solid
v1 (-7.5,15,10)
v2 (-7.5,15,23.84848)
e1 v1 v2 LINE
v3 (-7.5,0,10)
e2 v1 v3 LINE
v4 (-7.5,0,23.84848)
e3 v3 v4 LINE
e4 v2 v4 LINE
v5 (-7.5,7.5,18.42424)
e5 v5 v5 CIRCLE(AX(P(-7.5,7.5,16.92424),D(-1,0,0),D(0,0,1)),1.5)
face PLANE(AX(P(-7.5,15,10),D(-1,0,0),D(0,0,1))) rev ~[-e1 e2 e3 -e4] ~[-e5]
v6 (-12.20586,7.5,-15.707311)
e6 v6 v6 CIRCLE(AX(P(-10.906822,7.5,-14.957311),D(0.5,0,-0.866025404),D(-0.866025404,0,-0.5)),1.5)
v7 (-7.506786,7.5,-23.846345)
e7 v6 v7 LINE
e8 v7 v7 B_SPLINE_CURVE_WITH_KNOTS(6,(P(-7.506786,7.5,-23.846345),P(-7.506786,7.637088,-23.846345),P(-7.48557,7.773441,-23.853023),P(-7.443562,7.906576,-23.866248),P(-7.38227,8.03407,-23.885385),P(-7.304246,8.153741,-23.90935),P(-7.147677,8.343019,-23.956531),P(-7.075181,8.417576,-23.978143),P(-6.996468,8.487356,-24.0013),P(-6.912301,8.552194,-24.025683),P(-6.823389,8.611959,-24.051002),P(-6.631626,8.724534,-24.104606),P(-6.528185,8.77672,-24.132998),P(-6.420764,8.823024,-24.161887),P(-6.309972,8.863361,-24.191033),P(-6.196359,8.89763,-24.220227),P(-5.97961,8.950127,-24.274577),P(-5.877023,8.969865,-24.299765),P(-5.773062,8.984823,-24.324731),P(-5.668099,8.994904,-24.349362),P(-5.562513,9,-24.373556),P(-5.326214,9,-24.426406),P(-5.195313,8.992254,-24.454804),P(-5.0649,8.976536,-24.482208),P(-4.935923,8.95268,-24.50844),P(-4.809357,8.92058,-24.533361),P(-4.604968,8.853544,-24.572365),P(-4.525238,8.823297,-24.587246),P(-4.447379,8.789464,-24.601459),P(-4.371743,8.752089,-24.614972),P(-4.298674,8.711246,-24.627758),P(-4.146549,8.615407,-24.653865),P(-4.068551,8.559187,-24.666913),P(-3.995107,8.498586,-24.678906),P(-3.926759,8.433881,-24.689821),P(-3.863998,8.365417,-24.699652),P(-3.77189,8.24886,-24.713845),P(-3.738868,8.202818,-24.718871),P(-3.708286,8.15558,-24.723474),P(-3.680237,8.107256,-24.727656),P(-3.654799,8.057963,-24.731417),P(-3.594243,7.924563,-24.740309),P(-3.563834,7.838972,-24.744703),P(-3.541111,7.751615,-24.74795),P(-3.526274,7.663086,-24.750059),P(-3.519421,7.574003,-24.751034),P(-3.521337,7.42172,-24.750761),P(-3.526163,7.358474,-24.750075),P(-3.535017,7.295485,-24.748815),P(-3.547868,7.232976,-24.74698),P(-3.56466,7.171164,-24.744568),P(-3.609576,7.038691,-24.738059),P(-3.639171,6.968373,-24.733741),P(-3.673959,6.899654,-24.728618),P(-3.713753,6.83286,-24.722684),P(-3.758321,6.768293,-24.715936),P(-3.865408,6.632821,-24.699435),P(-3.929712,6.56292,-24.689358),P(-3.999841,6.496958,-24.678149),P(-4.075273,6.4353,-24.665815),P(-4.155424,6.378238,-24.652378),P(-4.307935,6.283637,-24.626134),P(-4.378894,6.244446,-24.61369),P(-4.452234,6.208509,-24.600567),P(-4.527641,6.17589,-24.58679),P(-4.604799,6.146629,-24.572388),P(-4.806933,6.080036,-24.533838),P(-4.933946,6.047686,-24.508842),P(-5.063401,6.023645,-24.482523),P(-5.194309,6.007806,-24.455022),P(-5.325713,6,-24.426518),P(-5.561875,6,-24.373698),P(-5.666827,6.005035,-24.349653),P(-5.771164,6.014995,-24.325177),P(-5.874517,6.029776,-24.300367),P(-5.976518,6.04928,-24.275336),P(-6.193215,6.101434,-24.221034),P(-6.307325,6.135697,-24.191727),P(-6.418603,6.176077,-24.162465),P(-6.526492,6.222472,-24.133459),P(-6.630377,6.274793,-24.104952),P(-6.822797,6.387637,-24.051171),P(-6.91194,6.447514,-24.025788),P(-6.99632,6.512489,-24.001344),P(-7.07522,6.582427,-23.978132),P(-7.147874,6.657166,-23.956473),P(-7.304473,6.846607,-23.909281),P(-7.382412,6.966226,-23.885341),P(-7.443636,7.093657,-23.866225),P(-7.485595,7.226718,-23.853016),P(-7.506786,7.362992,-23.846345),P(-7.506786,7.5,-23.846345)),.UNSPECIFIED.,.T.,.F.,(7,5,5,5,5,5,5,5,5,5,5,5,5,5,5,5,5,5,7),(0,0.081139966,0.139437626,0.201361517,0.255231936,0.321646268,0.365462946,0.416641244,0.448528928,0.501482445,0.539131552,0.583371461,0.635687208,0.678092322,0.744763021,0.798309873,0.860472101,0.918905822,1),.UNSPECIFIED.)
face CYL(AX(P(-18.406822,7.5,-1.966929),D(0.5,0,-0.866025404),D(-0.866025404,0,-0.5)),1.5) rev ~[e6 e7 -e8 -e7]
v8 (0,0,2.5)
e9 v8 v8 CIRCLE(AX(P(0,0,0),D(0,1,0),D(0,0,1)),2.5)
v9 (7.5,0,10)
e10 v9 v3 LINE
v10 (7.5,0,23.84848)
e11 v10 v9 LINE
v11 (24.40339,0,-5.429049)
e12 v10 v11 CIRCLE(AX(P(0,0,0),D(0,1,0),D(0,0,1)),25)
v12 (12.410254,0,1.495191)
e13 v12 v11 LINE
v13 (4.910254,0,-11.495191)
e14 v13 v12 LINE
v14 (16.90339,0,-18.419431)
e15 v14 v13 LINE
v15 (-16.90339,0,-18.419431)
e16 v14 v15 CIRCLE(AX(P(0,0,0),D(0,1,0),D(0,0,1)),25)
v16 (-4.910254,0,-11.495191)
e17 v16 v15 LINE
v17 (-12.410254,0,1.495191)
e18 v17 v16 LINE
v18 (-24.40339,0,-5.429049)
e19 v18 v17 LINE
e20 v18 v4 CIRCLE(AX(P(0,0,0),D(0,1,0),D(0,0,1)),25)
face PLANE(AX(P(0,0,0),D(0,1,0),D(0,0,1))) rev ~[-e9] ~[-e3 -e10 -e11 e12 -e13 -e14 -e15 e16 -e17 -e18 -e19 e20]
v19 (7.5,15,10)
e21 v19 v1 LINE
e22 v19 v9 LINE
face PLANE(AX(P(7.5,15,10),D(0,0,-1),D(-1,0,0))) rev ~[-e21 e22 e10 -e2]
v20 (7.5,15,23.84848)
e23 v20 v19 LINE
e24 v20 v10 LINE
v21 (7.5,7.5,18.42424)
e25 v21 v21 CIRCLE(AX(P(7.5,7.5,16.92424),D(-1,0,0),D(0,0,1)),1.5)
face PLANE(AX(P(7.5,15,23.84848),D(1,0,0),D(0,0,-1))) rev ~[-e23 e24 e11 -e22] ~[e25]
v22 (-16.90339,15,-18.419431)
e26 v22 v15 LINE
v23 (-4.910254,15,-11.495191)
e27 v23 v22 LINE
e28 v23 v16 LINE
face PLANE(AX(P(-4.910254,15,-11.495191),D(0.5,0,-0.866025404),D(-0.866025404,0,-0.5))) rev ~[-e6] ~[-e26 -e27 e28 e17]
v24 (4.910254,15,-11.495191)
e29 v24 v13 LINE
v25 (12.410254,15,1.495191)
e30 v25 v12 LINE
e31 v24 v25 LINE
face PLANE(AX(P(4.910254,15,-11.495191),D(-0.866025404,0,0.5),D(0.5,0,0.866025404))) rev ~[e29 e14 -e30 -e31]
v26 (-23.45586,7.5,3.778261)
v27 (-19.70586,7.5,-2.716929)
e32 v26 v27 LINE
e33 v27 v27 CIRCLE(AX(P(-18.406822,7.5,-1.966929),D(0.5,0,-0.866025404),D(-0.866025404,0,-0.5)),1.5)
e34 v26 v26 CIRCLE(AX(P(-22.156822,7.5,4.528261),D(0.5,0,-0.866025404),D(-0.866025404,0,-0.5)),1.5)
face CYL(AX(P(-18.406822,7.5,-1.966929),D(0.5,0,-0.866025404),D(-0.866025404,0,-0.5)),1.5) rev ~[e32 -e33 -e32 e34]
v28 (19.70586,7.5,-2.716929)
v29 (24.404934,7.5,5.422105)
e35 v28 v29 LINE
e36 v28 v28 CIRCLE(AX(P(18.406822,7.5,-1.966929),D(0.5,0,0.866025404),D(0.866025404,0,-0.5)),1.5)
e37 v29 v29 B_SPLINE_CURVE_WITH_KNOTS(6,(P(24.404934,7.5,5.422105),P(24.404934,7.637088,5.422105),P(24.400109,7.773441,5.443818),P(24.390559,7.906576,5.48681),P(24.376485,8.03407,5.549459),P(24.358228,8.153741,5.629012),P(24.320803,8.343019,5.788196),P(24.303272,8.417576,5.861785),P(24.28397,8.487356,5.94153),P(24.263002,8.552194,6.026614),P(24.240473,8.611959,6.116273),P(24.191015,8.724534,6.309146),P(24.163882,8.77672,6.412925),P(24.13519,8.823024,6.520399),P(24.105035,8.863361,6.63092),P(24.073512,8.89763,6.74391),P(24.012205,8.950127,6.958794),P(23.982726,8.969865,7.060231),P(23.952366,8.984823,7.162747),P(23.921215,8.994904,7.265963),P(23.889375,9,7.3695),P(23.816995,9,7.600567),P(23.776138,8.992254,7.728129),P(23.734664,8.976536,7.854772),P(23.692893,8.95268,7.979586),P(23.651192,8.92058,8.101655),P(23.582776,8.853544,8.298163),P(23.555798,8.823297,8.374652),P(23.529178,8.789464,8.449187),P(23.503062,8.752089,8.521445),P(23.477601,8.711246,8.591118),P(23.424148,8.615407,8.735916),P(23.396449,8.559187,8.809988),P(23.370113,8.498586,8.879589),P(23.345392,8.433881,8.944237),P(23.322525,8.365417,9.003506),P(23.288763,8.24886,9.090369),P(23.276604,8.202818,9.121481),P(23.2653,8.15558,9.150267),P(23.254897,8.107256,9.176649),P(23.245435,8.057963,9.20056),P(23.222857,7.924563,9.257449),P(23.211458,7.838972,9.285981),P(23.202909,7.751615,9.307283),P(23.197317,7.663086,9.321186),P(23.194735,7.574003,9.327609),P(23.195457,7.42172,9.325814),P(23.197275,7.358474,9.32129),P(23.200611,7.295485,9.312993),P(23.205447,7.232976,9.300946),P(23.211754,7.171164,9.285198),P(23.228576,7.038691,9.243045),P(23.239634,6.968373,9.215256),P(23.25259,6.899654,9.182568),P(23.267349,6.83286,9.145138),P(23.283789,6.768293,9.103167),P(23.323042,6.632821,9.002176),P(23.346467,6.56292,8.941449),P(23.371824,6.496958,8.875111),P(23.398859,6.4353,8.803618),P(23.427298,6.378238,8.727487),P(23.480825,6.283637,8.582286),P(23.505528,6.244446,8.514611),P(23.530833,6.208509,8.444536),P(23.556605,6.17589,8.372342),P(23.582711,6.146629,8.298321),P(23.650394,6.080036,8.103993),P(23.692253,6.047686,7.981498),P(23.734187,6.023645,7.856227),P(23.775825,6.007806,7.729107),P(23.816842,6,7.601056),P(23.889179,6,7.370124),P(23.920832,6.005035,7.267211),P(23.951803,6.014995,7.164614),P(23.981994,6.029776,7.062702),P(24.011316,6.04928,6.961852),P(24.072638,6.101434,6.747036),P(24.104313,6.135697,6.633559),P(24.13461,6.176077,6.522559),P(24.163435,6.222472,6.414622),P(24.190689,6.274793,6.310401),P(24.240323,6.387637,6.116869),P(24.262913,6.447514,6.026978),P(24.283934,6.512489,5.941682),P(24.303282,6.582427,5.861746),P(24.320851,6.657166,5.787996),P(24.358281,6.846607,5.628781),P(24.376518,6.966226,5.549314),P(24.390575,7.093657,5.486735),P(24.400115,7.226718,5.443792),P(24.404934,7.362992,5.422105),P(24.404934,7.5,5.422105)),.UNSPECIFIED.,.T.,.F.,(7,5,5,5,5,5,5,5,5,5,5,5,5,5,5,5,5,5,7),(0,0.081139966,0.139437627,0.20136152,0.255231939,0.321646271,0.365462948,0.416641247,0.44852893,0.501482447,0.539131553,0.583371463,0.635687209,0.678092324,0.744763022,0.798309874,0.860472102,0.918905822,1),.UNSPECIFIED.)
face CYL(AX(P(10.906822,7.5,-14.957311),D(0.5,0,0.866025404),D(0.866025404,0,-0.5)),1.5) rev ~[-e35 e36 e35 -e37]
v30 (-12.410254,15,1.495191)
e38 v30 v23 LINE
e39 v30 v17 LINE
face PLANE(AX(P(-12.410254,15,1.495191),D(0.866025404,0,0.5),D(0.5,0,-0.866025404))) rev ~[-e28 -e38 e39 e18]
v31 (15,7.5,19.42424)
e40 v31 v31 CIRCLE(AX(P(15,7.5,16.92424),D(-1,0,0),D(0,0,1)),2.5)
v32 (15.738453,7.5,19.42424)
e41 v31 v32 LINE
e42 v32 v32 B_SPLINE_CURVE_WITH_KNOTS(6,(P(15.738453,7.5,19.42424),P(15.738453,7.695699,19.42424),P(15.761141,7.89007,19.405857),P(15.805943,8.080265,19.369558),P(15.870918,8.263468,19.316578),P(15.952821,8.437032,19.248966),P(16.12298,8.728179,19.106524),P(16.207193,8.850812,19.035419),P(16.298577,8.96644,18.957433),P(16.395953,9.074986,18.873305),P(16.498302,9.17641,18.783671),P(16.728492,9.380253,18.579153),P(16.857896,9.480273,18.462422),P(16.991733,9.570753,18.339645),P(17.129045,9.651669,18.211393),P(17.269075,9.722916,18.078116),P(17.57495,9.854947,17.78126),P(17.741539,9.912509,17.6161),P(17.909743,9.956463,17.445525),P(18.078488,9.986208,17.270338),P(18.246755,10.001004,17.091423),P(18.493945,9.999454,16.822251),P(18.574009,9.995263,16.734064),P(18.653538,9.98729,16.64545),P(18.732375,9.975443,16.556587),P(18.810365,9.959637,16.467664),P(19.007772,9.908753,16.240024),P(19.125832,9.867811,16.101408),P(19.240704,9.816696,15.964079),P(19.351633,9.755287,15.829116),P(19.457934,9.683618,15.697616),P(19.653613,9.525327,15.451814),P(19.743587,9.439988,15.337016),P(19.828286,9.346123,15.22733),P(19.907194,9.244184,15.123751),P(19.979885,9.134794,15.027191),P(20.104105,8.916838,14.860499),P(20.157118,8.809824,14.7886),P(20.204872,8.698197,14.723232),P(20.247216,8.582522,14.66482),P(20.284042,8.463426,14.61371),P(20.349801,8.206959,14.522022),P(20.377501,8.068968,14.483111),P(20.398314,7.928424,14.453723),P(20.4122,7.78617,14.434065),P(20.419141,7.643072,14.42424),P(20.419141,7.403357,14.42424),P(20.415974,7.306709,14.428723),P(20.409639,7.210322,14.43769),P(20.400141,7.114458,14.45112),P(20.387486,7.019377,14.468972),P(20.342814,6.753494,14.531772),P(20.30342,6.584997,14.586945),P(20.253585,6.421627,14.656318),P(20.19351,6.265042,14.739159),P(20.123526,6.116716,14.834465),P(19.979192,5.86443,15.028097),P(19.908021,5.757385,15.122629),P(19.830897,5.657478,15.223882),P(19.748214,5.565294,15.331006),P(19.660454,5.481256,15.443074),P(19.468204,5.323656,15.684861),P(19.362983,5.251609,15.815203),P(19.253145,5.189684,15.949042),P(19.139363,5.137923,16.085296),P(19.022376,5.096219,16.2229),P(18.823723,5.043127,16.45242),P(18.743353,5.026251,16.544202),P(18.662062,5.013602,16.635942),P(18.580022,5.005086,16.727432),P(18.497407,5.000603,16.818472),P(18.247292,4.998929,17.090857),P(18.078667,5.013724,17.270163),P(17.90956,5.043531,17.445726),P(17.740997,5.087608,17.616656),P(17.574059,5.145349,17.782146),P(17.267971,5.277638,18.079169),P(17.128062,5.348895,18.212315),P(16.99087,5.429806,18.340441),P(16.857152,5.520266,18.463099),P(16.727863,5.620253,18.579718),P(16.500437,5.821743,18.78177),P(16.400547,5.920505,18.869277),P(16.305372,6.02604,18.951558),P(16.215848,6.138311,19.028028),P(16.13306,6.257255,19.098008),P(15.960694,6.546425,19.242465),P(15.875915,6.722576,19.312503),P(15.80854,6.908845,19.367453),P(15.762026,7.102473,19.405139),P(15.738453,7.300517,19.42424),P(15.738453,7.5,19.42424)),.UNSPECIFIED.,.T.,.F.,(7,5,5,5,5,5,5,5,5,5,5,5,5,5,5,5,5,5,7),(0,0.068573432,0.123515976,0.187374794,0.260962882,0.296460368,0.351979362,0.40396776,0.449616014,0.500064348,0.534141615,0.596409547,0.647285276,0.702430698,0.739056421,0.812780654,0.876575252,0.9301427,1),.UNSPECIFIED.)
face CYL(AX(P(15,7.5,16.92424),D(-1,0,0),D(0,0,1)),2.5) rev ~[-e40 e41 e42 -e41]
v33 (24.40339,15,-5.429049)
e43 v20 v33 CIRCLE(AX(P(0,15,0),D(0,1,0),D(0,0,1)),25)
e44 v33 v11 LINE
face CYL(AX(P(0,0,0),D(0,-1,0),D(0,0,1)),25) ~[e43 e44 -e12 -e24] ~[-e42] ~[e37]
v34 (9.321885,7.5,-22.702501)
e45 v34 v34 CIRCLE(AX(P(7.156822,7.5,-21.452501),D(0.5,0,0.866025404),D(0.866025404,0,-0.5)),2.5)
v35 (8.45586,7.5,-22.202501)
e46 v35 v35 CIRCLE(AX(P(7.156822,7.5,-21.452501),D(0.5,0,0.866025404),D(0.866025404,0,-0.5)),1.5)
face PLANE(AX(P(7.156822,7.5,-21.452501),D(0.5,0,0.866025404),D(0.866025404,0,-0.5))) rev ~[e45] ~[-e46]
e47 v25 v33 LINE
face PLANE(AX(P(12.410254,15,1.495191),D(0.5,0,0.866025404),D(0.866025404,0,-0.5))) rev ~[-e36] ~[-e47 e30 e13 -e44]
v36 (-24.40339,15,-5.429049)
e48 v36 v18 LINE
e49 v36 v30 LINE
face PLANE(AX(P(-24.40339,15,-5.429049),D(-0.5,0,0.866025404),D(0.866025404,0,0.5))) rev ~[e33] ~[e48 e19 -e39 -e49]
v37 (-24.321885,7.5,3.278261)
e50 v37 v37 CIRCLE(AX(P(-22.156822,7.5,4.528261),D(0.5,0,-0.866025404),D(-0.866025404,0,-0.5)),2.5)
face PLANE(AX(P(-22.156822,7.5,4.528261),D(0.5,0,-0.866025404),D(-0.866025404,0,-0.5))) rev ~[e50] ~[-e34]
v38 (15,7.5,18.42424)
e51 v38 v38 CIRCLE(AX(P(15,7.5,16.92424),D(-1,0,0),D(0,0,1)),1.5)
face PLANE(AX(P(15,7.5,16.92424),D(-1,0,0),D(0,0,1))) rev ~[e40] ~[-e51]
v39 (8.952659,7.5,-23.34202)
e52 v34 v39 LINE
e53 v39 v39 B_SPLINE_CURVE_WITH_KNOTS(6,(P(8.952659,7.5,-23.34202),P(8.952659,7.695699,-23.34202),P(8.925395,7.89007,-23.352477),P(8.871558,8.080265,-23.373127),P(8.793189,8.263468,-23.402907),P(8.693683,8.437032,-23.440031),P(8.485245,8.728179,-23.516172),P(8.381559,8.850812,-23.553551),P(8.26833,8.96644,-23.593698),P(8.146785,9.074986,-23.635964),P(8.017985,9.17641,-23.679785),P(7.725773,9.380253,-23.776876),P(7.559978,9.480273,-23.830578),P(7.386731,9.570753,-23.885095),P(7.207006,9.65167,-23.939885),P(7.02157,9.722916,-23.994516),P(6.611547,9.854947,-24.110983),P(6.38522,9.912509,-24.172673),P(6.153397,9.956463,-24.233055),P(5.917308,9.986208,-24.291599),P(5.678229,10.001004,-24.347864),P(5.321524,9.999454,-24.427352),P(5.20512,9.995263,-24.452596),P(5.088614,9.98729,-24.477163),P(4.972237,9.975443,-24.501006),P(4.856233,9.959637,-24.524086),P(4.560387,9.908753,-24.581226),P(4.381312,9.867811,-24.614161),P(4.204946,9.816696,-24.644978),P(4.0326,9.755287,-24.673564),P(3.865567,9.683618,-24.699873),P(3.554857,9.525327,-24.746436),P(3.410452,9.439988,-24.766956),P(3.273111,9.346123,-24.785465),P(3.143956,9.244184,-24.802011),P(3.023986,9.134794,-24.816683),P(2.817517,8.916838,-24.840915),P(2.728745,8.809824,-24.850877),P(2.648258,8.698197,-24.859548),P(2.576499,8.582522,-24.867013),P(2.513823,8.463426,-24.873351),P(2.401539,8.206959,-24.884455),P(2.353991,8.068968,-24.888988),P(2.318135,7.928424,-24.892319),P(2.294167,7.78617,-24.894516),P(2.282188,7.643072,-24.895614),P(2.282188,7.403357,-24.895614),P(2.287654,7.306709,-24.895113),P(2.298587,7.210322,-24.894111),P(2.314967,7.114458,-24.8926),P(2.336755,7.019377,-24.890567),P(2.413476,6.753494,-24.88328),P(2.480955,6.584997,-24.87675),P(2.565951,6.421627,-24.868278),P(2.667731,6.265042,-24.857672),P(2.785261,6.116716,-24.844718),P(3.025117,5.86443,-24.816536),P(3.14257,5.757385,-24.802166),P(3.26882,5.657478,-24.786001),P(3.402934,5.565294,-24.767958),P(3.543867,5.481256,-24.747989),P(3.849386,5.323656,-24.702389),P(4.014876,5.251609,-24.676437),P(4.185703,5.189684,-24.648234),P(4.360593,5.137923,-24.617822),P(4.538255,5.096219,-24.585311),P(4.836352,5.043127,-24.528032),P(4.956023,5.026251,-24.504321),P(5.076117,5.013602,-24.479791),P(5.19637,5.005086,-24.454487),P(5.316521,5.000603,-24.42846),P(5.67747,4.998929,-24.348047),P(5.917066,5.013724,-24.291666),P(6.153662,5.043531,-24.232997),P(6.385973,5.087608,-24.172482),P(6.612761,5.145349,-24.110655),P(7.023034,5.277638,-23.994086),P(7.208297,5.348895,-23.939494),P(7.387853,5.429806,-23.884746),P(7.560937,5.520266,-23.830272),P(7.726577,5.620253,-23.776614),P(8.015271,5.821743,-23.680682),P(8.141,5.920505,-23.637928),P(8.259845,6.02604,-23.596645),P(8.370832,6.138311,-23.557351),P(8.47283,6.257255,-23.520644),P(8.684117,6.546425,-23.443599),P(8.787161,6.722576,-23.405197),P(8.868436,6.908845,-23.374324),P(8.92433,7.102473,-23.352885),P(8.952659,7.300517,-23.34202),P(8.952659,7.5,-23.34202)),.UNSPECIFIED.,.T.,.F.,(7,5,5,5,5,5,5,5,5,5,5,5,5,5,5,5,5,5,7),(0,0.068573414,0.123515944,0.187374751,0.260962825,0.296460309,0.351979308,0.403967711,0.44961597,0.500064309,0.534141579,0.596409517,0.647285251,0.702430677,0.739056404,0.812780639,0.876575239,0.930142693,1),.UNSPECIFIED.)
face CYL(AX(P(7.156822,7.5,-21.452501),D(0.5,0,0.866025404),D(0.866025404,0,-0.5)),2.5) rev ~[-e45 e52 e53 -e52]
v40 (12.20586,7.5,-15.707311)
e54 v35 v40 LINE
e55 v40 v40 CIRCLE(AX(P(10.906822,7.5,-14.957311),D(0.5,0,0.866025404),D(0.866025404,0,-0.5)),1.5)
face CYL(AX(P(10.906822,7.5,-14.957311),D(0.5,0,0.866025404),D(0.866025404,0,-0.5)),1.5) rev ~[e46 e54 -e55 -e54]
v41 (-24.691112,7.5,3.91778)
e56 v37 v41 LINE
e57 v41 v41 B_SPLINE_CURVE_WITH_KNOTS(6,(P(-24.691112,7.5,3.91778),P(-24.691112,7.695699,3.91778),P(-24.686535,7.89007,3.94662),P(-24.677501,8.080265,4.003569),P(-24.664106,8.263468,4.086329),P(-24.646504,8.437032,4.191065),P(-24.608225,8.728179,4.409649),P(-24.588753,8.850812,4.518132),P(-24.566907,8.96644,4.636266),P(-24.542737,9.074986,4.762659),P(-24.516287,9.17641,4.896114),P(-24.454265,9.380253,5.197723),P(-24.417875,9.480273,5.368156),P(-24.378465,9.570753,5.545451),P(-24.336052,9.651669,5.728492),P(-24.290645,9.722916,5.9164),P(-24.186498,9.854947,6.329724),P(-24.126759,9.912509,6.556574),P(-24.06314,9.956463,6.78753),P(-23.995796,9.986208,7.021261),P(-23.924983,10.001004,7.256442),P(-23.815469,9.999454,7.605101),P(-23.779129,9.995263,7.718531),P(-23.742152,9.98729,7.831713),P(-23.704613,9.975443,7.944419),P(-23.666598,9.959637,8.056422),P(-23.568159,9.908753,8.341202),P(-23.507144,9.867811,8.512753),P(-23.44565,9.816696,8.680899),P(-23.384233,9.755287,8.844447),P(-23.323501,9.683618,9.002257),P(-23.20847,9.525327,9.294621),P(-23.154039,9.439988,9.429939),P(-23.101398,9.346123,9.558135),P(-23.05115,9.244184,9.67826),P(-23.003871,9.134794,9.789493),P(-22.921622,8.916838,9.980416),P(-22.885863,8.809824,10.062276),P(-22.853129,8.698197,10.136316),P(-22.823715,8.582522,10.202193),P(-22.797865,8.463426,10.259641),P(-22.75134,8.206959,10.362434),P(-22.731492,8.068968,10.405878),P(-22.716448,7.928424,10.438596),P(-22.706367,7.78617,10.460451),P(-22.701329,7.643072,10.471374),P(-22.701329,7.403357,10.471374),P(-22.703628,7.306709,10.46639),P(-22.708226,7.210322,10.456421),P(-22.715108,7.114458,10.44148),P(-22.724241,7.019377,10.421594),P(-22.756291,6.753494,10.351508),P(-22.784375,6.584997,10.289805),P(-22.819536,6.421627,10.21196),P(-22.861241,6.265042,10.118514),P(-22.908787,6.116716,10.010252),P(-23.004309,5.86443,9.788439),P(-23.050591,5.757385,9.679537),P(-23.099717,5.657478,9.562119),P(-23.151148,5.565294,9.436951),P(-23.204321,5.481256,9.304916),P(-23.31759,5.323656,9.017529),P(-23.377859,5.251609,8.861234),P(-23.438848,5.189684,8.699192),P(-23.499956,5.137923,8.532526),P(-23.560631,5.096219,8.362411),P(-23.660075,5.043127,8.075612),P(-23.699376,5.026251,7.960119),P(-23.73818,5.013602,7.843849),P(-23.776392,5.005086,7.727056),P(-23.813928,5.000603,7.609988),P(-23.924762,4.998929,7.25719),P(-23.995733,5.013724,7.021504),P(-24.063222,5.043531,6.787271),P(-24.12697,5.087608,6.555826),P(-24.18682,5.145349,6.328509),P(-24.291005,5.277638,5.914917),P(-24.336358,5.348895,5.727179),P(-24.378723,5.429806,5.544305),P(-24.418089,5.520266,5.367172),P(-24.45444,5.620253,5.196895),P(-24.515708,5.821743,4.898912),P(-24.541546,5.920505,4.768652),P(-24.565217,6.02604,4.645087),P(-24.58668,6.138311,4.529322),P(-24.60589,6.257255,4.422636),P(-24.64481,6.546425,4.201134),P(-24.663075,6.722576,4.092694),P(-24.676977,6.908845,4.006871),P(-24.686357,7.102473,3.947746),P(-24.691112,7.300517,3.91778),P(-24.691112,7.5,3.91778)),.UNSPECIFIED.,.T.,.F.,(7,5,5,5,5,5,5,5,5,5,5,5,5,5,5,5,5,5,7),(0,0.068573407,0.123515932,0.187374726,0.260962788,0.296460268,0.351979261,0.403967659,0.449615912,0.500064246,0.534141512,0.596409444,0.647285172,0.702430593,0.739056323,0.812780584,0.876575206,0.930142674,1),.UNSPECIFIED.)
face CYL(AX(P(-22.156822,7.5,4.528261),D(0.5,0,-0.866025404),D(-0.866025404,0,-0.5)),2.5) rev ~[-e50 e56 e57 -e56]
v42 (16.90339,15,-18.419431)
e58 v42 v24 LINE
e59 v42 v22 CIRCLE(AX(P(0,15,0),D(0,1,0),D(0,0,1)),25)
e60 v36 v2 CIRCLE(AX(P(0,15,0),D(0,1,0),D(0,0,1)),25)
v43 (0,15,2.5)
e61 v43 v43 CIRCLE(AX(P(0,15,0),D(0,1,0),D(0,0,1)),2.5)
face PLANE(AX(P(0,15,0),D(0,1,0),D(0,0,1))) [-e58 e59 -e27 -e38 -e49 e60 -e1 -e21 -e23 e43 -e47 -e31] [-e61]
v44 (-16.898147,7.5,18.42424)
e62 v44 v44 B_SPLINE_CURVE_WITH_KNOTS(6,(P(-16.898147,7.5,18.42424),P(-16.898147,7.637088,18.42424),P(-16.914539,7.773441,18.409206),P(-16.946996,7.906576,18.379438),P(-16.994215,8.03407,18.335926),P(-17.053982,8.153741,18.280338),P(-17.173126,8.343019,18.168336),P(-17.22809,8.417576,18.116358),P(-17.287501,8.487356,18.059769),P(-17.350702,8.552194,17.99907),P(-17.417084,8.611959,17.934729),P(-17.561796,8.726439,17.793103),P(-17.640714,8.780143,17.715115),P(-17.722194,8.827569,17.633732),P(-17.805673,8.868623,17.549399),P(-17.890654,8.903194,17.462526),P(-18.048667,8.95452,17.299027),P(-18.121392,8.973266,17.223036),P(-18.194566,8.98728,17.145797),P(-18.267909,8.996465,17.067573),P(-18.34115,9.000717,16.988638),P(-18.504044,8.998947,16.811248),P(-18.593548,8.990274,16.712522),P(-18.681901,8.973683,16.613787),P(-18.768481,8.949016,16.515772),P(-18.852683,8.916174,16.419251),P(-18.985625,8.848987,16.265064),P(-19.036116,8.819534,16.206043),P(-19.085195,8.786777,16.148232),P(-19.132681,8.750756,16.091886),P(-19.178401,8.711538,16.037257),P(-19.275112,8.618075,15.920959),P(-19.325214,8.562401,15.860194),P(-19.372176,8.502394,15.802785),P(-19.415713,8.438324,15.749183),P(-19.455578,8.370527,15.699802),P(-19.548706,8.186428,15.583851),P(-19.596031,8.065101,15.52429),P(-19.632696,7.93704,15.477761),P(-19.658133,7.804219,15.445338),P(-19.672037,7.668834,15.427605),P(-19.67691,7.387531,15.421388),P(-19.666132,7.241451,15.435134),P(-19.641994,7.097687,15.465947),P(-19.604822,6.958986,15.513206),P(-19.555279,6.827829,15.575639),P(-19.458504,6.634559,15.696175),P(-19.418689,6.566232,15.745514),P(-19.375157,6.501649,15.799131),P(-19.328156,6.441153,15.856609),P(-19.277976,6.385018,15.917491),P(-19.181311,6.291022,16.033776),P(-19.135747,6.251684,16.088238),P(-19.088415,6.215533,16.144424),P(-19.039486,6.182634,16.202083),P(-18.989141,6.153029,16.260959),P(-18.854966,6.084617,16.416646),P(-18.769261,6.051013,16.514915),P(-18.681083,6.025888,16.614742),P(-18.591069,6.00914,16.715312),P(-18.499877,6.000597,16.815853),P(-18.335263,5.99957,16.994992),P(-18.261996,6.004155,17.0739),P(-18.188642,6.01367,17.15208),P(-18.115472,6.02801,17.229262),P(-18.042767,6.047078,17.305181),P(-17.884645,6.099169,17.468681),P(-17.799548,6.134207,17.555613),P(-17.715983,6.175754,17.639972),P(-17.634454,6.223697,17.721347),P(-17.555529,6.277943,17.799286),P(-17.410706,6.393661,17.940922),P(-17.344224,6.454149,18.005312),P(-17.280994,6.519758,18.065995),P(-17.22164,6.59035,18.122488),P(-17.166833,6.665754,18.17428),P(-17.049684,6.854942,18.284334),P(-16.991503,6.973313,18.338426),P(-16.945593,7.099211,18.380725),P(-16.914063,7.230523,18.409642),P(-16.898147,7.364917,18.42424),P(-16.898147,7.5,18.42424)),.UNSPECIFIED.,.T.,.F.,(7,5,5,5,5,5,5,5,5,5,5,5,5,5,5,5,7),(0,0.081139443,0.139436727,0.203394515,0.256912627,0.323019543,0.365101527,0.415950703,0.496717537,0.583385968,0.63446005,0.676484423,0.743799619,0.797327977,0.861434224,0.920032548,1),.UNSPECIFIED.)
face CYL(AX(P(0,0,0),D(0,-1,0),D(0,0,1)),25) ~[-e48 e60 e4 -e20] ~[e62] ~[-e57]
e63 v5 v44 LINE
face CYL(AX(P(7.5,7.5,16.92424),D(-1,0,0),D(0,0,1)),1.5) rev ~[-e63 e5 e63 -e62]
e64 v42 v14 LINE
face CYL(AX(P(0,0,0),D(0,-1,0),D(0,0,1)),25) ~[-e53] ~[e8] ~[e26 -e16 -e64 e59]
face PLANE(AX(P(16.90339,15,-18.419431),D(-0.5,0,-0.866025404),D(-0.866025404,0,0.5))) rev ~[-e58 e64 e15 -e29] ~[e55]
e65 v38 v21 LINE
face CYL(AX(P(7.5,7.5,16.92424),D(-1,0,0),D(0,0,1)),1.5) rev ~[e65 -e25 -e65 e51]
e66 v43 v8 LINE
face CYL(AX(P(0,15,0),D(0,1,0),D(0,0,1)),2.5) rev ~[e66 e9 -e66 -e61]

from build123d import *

# Parameters (mm, degrees)
SKETCH1_R           = 25
BOSS_EXTRUDE1_DEPTH = 15
CUT_EXTRUDE1_START  = -150
CUT_EXTRUDE1_DEPTH  = 150
SKETCH3_R           = 1.5
CUT_EXTRUDE2_DEPTH  = 44.660622991
CUT_EXTRUDE3_START  = -7.5
SKETCH4_R           = 2.5
CUT_EXTRUDE3_DEPTH  = 10
CIRPATTERN1_COUNT   = 3
SKETCH5_R           = 2.5
CUT_EXTRUDE4_DEPTH  = 39.405728909


with BuildPart() as part:
    # Sketch1 → Boss-Extrude1 (new body)
    with BuildSketch(Plane(origin=(0, 0, 0), x_dir=(1, 0, 0), z_dir=(0, 1, 0))):
        Circle(SKETCH1_R)
    extrude(amount=BOSS_EXTRUDE1_DEPTH)

    # Sketch2 → Cut-Extrude1 (cut)
    with BuildSketch(Plane(origin=(0, 15, 0), x_dir=(1, 0, 0), z_dir=(0, 1, 0)).offset(CUT_EXTRUDE1_START)):
        with BuildLine():
            Line((7.5, -10), (-7.5, -10))
            Line((-7.5, -10), (-7.5, -23.848480035))
            ThreePointArc((-7.5, -23.848480035), (0, -25), (7.5, -23.848480035))
            Line((7.5, -23.848480035), (7.5, -10))
        make_face()
    cut_extrude1 = extrude(amount=CUT_EXTRUDE1_DEPTH, mode=Mode.SUBTRACT)

    # Sketch3 → Cut-Extrude2 (cut, symmetric)
    with BuildSketch(Plane.ZY.offset(-7.5)):
        with Locations((16.924240018, 7.5)):
            Circle(SKETCH3_R)
    cut_extrude2 = extrude(amount=CUT_EXTRUDE2_DEPTH, both=True, mode=Mode.SUBTRACT)

    # Sketch4 → Cut-Extrude3 (cut)
    with BuildSketch(Plane.ZY.offset(-7.5).offset(CUT_EXTRUDE3_START)):
        with Locations((16.924240018, 7.5)):
            Circle(SKETCH4_R)
    cut_extrude3 = extrude(amount=-CUT_EXTRUDE3_DEPTH, mode=Mode.SUBTRACT)

    # CirPattern1: Cut-Extrude1, Cut-Extrude2, Cut-Extrude3 ×3 about axis
    cirpattern1_axis = Axis((0, 15, 0), (0, 1, 0))
    add([cut_extrude1.rotate(cirpattern1_axis, i * 360 / CIRPATTERN1_COUNT) for i in range(1, CIRPATTERN1_COUNT)], mode=Mode.SUBTRACT)
    add([cut_extrude2.rotate(cirpattern1_axis, i * 360 / CIRPATTERN1_COUNT) for i in range(1, CIRPATTERN1_COUNT)], mode=Mode.SUBTRACT)
    add([cut_extrude3.rotate(cirpattern1_axis, i * 360 / CIRPATTERN1_COUNT) for i in range(1, CIRPATTERN1_COUNT)], mode=Mode.SUBTRACT)

    # Sketch5 → Cut-Extrude4 (cut, through all)
    with BuildSketch(Plane(origin=(0, 15, 0), x_dir=(1, 0, 0), z_dir=(0, 1, 0))):
        Circle(SKETCH5_R)
    extrude(amount=-CUT_EXTRUDE4_DEPTH, mode=Mode.SUBTRACT)


solid = part.part
